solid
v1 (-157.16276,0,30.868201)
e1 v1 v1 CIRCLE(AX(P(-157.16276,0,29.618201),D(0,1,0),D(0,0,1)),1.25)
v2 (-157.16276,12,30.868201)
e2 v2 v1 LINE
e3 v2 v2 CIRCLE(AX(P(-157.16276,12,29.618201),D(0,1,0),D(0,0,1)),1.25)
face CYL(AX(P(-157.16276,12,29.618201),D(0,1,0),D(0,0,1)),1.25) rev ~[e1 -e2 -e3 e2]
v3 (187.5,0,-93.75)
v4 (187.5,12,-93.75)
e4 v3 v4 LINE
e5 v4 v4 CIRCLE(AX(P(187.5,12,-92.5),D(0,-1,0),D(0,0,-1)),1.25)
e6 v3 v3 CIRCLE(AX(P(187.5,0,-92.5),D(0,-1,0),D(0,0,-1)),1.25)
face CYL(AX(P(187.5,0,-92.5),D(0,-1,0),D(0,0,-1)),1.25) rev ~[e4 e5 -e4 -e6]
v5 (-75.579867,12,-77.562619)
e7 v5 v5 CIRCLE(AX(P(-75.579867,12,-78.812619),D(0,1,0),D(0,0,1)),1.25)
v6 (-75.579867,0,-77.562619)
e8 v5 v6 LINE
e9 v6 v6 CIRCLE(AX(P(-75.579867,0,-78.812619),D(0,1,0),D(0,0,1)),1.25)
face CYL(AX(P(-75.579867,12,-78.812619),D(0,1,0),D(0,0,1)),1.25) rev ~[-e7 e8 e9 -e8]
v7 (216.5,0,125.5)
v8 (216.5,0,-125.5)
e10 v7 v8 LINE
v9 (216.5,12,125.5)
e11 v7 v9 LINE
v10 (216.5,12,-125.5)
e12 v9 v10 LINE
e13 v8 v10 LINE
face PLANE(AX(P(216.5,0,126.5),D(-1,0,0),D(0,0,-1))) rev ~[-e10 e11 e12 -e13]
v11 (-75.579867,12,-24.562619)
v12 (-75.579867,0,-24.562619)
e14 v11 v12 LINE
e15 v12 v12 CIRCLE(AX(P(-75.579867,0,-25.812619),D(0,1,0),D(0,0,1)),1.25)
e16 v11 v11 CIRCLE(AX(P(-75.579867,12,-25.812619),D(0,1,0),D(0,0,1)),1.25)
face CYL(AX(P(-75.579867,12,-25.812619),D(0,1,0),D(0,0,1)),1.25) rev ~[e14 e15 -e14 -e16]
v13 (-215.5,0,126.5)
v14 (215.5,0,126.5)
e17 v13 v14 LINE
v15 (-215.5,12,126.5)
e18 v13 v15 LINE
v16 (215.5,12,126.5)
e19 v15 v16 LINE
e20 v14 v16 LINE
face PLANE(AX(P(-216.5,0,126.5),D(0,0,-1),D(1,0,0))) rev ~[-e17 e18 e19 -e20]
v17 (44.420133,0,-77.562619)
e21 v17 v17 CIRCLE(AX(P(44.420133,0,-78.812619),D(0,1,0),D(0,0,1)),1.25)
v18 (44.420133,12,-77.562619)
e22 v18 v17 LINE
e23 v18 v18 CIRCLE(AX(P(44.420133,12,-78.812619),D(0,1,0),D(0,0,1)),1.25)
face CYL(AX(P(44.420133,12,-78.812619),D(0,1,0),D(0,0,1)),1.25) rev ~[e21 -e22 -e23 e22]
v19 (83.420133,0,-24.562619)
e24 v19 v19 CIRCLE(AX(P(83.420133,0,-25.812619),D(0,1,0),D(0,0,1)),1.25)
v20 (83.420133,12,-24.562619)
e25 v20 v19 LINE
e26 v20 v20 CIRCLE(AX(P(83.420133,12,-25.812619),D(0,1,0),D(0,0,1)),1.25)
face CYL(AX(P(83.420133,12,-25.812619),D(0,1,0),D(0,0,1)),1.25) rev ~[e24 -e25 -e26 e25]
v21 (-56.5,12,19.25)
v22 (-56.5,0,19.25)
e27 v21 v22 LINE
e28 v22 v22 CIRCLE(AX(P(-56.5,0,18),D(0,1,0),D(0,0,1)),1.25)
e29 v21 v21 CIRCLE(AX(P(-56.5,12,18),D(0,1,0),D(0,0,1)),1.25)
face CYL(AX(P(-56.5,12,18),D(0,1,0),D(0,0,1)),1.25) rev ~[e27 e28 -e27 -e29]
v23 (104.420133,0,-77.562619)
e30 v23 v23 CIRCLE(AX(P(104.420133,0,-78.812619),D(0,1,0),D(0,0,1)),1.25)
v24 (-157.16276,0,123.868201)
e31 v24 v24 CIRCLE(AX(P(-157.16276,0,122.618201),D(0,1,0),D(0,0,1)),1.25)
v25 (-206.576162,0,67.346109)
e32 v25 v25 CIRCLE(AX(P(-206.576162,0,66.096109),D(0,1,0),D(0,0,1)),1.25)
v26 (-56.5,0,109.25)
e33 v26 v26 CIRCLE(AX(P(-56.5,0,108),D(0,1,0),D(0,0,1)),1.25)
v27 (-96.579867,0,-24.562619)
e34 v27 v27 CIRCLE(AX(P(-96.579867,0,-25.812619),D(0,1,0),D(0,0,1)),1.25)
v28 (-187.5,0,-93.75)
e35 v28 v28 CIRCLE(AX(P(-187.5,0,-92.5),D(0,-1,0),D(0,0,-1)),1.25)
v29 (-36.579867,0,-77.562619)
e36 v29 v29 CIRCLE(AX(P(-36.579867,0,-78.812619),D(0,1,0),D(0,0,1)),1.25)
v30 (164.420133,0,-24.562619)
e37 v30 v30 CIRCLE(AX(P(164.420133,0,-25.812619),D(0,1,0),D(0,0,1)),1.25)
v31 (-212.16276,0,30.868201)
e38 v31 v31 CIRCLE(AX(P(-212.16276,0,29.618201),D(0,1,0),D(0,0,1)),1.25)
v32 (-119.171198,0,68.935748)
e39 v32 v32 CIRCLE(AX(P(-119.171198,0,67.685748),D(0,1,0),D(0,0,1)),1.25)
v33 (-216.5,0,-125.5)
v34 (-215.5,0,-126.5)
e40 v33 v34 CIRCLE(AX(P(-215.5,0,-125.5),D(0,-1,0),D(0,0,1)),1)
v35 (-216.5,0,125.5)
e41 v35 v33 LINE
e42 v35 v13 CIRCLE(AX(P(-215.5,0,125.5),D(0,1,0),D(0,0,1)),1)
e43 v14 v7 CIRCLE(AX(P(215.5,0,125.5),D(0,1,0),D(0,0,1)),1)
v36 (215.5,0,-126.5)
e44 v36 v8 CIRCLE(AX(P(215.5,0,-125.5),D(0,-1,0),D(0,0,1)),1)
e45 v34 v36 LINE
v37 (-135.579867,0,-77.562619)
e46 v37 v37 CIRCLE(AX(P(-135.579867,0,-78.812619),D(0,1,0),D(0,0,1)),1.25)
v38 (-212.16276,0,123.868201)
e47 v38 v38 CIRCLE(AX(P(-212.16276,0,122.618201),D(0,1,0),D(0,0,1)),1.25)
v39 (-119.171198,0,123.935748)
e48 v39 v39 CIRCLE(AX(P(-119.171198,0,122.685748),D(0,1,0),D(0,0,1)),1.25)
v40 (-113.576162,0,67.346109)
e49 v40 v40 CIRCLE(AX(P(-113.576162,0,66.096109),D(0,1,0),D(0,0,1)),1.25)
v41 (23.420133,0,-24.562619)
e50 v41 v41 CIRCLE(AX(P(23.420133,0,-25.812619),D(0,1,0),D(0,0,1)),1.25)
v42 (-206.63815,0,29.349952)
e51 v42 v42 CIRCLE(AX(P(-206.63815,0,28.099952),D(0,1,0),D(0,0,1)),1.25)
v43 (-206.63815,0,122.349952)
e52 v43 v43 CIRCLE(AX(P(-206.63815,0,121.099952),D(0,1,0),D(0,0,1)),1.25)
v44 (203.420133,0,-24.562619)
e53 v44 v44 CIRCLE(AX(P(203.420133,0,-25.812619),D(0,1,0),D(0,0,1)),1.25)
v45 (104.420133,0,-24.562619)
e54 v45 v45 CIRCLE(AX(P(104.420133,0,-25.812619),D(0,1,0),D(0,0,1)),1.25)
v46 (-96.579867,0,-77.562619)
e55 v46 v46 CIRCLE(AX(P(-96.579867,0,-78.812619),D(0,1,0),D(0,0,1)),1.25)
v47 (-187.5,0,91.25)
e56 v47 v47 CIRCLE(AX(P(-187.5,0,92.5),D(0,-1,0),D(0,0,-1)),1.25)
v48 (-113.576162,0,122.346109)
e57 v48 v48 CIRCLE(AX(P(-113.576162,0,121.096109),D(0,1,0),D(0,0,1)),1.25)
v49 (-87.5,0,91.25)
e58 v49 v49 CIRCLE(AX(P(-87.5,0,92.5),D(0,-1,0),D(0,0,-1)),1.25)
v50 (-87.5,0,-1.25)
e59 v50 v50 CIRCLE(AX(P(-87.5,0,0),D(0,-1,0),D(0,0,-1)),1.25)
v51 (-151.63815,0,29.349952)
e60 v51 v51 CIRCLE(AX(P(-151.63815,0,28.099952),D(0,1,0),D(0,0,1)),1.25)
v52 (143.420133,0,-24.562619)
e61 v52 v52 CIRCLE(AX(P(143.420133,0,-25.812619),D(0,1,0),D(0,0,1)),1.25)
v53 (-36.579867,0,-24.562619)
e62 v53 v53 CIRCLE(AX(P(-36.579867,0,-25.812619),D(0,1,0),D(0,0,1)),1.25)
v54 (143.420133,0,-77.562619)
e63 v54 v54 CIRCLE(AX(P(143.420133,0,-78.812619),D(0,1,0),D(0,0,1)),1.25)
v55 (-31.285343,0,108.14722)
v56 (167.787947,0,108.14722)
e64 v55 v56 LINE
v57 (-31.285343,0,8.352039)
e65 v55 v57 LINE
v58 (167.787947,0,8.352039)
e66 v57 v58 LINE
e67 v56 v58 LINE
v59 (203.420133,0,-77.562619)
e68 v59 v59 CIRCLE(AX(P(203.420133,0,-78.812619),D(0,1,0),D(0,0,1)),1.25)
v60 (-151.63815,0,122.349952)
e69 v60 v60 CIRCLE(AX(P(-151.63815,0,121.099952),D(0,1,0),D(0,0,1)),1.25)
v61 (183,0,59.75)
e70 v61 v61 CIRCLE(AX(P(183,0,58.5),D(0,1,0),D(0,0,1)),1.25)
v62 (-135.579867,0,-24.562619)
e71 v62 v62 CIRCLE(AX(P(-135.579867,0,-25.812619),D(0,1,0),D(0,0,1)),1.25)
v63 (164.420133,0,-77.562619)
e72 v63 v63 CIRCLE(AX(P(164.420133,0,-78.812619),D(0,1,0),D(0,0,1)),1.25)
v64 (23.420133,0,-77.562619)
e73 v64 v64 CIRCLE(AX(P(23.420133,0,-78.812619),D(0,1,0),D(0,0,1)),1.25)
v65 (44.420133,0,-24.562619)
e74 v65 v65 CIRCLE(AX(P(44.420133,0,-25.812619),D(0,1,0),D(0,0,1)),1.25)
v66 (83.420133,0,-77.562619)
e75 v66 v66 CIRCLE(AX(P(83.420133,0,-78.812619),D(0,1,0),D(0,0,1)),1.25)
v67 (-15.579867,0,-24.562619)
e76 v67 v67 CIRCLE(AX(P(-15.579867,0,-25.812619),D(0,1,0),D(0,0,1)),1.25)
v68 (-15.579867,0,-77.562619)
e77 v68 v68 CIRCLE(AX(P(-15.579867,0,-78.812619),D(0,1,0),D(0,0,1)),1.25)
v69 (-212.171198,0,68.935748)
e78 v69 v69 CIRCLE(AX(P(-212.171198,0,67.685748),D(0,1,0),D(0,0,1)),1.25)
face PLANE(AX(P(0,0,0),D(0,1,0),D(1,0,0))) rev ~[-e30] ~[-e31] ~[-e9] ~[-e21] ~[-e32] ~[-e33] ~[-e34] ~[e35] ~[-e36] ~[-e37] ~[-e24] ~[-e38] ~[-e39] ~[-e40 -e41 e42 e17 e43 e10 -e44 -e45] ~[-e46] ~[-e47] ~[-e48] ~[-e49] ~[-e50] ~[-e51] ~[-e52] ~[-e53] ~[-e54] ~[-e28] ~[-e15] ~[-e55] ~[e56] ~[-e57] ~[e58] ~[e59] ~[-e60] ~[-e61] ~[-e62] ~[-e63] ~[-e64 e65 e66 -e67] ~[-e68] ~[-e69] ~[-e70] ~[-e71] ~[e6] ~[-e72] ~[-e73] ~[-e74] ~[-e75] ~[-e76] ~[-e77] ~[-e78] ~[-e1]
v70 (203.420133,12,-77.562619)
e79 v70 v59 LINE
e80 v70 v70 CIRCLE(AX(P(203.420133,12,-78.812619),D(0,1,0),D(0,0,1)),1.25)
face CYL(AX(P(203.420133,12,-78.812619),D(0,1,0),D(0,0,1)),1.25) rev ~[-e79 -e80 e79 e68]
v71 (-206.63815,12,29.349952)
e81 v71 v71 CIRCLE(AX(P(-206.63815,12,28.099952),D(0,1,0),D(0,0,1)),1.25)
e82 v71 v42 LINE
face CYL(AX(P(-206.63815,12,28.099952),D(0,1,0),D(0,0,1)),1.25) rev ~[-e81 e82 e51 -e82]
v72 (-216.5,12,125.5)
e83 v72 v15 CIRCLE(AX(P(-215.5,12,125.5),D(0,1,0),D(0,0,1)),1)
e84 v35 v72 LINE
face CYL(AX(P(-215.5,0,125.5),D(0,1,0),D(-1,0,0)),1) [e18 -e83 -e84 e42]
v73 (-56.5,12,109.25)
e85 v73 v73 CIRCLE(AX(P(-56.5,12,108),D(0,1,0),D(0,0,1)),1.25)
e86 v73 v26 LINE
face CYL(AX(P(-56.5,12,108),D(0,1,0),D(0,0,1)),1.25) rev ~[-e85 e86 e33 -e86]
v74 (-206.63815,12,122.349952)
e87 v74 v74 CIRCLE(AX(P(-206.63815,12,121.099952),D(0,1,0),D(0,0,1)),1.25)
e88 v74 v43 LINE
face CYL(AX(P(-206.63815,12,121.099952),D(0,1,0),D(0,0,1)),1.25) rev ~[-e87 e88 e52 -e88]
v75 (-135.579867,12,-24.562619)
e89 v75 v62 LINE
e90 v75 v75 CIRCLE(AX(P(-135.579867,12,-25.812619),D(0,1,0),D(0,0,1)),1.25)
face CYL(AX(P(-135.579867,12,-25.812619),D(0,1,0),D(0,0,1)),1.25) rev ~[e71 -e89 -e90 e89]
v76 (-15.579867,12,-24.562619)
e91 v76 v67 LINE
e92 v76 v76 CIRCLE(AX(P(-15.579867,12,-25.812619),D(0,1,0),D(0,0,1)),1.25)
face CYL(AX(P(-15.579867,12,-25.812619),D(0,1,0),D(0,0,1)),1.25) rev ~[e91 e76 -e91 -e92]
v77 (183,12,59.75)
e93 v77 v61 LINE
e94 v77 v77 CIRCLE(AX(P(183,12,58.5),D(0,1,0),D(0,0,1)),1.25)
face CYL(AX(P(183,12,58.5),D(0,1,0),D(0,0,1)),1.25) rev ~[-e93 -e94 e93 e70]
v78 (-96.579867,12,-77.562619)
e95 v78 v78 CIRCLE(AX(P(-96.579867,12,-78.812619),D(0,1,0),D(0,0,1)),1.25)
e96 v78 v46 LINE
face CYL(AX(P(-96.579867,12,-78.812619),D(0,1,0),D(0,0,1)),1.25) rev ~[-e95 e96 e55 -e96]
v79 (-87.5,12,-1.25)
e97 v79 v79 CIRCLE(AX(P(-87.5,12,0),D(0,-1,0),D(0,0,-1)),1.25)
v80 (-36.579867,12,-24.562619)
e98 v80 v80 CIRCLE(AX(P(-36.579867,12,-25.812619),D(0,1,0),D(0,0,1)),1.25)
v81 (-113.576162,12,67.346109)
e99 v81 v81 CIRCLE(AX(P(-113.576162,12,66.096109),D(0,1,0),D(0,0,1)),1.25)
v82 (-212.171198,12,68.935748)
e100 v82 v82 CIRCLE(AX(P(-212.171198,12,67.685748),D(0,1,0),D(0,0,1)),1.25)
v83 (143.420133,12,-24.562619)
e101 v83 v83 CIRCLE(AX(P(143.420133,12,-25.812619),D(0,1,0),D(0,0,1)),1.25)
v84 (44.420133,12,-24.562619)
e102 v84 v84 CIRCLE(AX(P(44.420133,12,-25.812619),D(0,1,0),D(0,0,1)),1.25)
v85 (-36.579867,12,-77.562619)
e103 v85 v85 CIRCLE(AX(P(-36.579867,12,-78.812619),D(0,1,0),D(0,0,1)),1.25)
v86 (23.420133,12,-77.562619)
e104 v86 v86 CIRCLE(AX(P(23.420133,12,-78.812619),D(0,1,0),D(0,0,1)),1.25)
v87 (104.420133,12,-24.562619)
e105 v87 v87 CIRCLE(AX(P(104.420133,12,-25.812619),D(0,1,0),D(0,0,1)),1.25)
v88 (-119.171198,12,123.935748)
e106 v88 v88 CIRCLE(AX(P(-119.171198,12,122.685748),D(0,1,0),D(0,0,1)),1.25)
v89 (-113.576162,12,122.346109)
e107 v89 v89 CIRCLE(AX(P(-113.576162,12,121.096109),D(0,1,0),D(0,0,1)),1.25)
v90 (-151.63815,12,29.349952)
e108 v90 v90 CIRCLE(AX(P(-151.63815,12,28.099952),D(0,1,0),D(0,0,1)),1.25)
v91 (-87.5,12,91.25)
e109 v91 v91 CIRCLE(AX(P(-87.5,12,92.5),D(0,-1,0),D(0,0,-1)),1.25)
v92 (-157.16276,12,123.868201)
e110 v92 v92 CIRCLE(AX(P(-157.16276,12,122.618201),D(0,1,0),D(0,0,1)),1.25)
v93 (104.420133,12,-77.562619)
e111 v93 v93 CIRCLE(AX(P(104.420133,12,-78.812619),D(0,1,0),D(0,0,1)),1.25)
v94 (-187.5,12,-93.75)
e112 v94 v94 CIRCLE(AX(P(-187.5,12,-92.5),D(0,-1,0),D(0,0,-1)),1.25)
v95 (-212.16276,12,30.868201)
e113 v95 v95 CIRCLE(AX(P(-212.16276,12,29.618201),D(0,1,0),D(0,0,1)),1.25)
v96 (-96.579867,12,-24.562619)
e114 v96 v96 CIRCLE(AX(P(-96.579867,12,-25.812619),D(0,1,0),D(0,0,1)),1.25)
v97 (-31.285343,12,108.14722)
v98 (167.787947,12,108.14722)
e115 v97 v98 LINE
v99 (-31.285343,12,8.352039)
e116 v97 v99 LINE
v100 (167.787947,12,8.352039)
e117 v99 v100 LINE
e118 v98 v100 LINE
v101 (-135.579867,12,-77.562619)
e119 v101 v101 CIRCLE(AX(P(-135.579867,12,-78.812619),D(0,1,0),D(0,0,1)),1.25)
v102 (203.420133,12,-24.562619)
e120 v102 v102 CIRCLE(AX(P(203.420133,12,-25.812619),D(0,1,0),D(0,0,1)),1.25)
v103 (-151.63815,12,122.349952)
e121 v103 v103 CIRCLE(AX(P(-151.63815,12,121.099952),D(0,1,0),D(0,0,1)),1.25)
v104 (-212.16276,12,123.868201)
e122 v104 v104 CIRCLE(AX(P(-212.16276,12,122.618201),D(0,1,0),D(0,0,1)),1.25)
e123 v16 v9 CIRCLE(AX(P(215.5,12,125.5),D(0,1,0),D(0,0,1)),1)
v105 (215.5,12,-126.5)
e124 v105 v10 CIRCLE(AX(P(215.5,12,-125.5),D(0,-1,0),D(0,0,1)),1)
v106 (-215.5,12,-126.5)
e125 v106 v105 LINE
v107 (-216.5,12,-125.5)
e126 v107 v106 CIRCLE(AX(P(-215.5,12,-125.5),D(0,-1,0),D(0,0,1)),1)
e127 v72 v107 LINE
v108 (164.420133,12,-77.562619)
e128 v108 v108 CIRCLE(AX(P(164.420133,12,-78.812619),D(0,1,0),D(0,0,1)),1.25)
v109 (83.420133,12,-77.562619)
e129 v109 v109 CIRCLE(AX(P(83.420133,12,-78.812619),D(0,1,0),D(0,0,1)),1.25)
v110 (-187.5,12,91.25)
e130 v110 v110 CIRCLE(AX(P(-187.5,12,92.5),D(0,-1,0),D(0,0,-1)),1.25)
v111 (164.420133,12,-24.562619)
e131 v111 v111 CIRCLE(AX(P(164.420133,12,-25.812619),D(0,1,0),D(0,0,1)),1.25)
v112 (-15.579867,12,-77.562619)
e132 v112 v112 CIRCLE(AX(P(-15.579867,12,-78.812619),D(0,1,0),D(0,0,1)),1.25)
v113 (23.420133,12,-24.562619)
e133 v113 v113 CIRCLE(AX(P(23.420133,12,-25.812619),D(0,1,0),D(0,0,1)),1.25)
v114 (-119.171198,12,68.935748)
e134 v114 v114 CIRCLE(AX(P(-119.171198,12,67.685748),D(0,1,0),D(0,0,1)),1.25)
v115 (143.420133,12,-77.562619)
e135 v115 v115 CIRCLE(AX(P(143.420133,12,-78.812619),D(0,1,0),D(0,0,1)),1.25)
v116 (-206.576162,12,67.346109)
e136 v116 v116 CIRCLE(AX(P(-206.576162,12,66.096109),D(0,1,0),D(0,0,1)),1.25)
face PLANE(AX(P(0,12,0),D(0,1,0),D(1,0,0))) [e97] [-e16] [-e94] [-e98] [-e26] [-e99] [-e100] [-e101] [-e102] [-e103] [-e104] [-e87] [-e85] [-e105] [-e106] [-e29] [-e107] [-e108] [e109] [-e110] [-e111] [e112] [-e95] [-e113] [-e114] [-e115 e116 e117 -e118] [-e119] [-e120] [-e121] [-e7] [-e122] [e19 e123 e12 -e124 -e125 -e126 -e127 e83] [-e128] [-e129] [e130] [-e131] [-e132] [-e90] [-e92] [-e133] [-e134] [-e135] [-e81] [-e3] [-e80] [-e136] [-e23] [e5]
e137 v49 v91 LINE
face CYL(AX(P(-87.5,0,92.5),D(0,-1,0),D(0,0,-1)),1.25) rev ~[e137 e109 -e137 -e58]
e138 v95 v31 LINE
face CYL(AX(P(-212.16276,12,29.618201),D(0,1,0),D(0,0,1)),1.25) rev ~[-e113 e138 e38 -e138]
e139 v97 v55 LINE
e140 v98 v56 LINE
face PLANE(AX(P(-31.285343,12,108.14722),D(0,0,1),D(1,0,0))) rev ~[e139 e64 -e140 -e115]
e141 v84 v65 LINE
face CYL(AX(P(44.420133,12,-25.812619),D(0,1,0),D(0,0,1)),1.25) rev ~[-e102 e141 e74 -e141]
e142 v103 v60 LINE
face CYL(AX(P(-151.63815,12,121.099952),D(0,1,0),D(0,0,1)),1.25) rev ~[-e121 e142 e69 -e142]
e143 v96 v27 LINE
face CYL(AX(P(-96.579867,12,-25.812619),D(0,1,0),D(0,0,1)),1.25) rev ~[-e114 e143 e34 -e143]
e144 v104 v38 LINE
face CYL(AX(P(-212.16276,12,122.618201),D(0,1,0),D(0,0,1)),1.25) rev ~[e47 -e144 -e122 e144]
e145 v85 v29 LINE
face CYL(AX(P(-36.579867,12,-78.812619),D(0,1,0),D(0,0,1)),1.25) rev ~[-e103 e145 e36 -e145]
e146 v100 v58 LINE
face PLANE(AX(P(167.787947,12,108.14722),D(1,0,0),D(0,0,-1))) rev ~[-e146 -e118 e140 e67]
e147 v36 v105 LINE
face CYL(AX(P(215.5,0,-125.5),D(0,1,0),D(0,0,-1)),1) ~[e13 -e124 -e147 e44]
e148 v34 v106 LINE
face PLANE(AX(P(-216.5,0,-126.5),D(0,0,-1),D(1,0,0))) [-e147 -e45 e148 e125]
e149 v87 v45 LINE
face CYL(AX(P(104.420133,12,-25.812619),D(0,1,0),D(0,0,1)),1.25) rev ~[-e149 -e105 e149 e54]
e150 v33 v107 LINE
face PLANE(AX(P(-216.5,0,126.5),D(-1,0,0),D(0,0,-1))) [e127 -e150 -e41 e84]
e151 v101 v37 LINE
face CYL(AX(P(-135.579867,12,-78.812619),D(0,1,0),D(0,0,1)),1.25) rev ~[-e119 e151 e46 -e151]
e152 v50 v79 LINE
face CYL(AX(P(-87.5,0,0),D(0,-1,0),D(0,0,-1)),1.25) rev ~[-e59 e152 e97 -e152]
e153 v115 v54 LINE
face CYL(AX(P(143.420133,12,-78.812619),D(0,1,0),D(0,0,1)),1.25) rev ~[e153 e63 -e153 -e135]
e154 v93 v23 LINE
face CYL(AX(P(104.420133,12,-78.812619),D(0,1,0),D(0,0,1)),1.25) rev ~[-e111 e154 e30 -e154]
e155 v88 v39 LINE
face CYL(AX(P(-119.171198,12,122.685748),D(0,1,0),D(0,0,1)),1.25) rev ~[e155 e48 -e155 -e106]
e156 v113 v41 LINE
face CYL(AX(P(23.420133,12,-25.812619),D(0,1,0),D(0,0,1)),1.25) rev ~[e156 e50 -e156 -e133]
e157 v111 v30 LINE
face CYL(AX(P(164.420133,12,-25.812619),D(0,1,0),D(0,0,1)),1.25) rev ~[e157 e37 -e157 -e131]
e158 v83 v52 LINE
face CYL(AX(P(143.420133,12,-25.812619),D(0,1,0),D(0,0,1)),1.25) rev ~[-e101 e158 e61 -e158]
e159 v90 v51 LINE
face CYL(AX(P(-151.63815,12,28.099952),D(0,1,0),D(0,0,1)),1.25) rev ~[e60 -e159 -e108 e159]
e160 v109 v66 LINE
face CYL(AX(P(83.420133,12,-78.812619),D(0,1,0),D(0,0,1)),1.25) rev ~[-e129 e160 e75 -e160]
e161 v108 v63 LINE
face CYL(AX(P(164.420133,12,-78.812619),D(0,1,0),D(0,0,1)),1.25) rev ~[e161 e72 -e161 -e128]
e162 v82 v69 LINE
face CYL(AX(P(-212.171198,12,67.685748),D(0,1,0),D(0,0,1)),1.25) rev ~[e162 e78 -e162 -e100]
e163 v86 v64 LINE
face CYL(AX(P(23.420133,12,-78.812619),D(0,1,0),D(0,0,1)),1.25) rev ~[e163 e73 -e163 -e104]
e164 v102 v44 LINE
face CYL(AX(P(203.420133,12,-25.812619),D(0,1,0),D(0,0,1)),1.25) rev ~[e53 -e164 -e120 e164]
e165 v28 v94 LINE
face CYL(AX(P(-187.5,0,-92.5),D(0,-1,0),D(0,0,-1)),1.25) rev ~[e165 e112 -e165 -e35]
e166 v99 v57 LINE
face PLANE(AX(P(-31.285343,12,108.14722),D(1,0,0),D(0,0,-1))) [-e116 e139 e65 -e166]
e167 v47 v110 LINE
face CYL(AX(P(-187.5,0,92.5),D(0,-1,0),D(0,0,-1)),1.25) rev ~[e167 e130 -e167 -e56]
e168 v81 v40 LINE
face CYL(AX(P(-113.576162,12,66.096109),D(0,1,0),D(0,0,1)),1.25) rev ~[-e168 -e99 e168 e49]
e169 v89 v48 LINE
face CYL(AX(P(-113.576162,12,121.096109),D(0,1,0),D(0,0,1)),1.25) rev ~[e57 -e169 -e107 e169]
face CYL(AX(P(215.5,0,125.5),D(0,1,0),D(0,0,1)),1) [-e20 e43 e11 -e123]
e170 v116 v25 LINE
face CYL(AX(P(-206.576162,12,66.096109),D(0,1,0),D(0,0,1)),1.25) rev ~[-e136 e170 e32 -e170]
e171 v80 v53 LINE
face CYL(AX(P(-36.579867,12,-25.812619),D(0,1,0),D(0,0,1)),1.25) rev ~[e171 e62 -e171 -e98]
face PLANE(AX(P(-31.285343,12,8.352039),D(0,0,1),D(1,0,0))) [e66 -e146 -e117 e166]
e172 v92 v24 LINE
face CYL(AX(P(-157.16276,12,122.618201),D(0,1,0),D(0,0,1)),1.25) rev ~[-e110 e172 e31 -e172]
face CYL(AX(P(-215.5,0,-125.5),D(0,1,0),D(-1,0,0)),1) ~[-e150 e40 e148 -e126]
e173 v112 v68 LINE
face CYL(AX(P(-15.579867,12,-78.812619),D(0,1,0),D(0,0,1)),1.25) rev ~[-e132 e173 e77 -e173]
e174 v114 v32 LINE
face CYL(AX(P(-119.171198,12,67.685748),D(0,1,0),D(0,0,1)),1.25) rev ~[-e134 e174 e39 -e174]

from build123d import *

# Parameters (mm, degrees)
SKETCH1_W           = 433
SKETCH1_H           = 253
BOSS_EXTRUDE1_DEPTH = 12
SKETCH2_R           = 1.25
CUT_EXTRUDE1_DEPTH  = 252.034858137
SKETCH3_R           = 1.25
CUT_EXTRUDE2_DEPTH  = 15
FILLET1_R           = 1
SKETCH4_W           = 199.073289142
SKETCH4_H           = 99.79518131
CUT_EXTRUDE3_DEPTH  = 15
SKETCH5_R           = 1.25
CUT_EXTRUDE4_DEPTH  = 252.034858137


with BuildPart() as part:
    # Sketch1 → Boss-Extrude1 (new body)
    with BuildSketch(Plane(origin=(0, 0, 0), x_dir=(1, 0, 0), z_dir=(0, 1, 0))):
        Rectangle(SKETCH1_W, SKETCH1_H)
    extrude(amount=BOSS_EXTRUDE1_DEPTH)

    # Sketch2 → Cut-Extrude1 (cut, through all)
    with BuildSketch(Plane(origin=(0, 12, 0), x_dir=(1, 0, 0), z_dir=(0, 1, 0))):
        with Locations(Location((-212.162759871, -122.618200896, 0), (0, 0, 270))):
            Circle(SKETCH2_R)
        with Locations(Location((-212.162759871, -29.618200896, 0), (0, 0, 270))):
            Circle(SKETCH2_R)
        with Locations(Location((-157.162759871, -29.618200896, 0), (0, 0, 270))):
            Circle(SKETCH2_R)
        with Locations(Location((-157.162759871, -122.618200896, 0), (0, 0, 270))):
            Circle(SKETCH2_R)
        with Locations(Location((104.420132929, 25.812618585, 0), (0, 0, 270))):
            Circle(SKETCH2_R)
        with Locations(Location((164.420132929, 25.812618585, 0), (0, 0, 270))):
            Circle(SKETCH2_R)
        with Locations(Location((143.420132929, 78.812618585, 0), (0, 0, 270))):
            Circle(SKETCH2_R)
        with Locations(Location((203.420132929, 78.812618585, 0), (0, 0, 270))):
            Circle(SKETCH2_R)
        with Locations(Location((104.420132929, 78.812618585, 0), (0, 0, 270))):
            Circle(SKETCH2_R)
        with Locations(Location((164.420132929, 78.812618585, 0), (0, 0, 270))):
            Circle(SKETCH2_R)
        with Locations(Location((143.420132929, 25.812618585, 0), (0, 0, 270))):
            Circle(SKETCH2_R)
        with Locations(Location((203.420132929, 25.812618585, 0), (0, 0, 270))):
            Circle(SKETCH2_R)
        with Locations(Location((-206.638150147, -121.099951967, 0), (0, 0, 270))):
            Circle(SKETCH2_R)
        with Locations(Location((-206.638150147, -28.099951967, 0), (0, 0, 270))):
            Circle(SKETCH2_R)
        with Locations(Location((-151.638150147, -28.099951967, 0), (0, 0, 270))):
            Circle(SKETCH2_R)
        with Locations(Location((-151.638150147, -121.099951967, 0), (0, 0, 270))):
            Circle(SKETCH2_R)
        with Locations(Location((-119.17119763, -122.685748213, 0), (0, 0, 270))):
            Circle(SKETCH2_R)
        with Locations(Location((-212.17119763, -67.685748213, 0), (0, 0, 270))):
            Circle(SKETCH2_R)
        with Locations(Location((-119.17119763, -67.685748213, 0), (0, 0, 270))):
            Circle(SKETCH2_R)
        with Locations(Location((-113.576162069, -121.096108824, 0), (0, 0, 270))):
            Circle(SKETCH2_R)
        with Locations(Location((44.420132929, 25.812618585, 0), (0, 0, 270))):
            Circle(SKETCH2_R)
        with Locations(Location((-206.576162069, -66.096108824, 0), (0, 0, 270))):
            Circle(SKETCH2_R)
        with Locations(Location((-113.576162069, -66.096108824, 0), (0, 0, 270))):
            Circle(SKETCH2_R)
        with Locations(Location((83.420132929, 78.812618585, 0), (0, 0, 270))):
            Circle(SKETCH2_R)
        with Locations(Location((44.420132929, 78.812618585, 0), (0, 0, 270))):
            Circle(SKETCH2_R)
        with Locations(Location((83.420132929, 25.812618585, 0), (0, 0, 270))):
            Circle(SKETCH2_R)
        with Locations(Location((-15.579867071, 25.812618585, 0), (0, 0, 270))):
            Circle(SKETCH2_R)
        with Locations(Location((23.420132929, 78.812618585, 0), (0, 0, 270))):
            Circle(SKETCH2_R)
        with Locations(Location((-15.579867071, 78.812618585, 0), (0, 0, 270))):
            Circle(SKETCH2_R)
        with Locations(Location((23.420132929, 25.812618585, 0), (0, 0, 270))):
            Circle(SKETCH2_R)
        with Locations(Location((-75.579867071, 25.812618585, 0), (0, 0, 270))):
            Circle(SKETCH2_R)
        with Locations(Location((-36.579867071, 78.812618585, 0), (0, 0, 270))):
            Circle(SKETCH2_R)
        with Locations(Location((-75.579867071, 78.812618585, 0), (0, 0, 270))):
            Circle(SKETCH2_R)
        with Locations(Location((-36.579867071, 25.812618585, 0), (0, 0, 270))):
            Circle(SKETCH2_R)
        with Locations(Location((-135.579867071, 25.812618585, 0), (0, 0, 270))):
            Circle(SKETCH2_R)
        with Locations(Location((-96.579867071, 78.812618585, 0), (0, 0, 270))):
            Circle(SKETCH2_R)
        with Locations(Location((-135.579867071, 78.812618585, 0), (0, 0, 270))):
            Circle(SKETCH2_R)
        with Locations(Location((-96.579867071, 25.812618585, 0), (0, 0, 270))):
            Circle(SKETCH2_R)
    extrude(amount=-CUT_EXTRUDE1_DEPTH, mode=Mode.SUBTRACT)

    # Sketch3 → Cut-Extrude2 (cut)
    with BuildSketch(Plane(origin=(0, 12, 0), x_dir=(1, 0, 0), z_dir=(0, 1, 0))):
        with Locations(Location((-56.5, -18, 0), (0, 0, 270))):
            Circle(SKETCH3_R)
        with Locations(Location((-56.5, -108, 0), (0, 0, 270))):
            Circle(SKETCH3_R)
        with Locations(Location((183, -58.5, 0), (0, 0, 270))):
            Circle(SKETCH3_R)
    extrude(amount=-CUT_EXTRUDE2_DEPTH, mode=Mode.SUBTRACT)

    # Fillet1
    fillet1_edges = [part.edges().sort_by_distance(p)[0] for p in [
        (-216.5, 6, -126.5),
        (216.5, 6, -126.5),
        (216.5, 6, 126.5),
        (-216.5, 6, 126.5),
    ]]
    fillet(fillet1_edges, radius=FILLET1_R)

    # Sketch4 → Cut-Extrude3 (cut)
    with BuildSketch(Plane(origin=(0, 12, 0), x_dir=(1, 0, 0), z_dir=(0, 1, 0))):
        with Locations((68.251302033, -58.249629494)):
            Rectangle(SKETCH4_W, SKETCH4_H)
    extrude(amount=-CUT_EXTRUDE3_DEPTH, mode=Mode.SUBTRACT)

    # Sketch5 → Cut-Extrude4 (cut, through all)
    with BuildSketch(Plane.XZ):
        with Locations(Location((-87.5, 0, 0), (0, 0, 270))):
            Circle(SKETCH5_R)
        with Locations(Location((187.5, -92.5, 0), (0, 0, 270))):
            Circle(SKETCH5_R)
        with Locations(Location((-87.5, 92.5, 0), (0, 0, 270))):
            Circle(SKETCH5_R)
        with Locations(Location((-187.5, 92.5, 0), (0, 0, 270))):
            Circle(SKETCH5_R)
        with Locations(Location((-187.5, -92.5, 0), (0, 0, 270))):
            Circle(SKETCH5_R)
    extrude(amount=-CUT_EXTRUDE4_DEPTH, mode=Mode.SUBTRACT)


solid = part.part
